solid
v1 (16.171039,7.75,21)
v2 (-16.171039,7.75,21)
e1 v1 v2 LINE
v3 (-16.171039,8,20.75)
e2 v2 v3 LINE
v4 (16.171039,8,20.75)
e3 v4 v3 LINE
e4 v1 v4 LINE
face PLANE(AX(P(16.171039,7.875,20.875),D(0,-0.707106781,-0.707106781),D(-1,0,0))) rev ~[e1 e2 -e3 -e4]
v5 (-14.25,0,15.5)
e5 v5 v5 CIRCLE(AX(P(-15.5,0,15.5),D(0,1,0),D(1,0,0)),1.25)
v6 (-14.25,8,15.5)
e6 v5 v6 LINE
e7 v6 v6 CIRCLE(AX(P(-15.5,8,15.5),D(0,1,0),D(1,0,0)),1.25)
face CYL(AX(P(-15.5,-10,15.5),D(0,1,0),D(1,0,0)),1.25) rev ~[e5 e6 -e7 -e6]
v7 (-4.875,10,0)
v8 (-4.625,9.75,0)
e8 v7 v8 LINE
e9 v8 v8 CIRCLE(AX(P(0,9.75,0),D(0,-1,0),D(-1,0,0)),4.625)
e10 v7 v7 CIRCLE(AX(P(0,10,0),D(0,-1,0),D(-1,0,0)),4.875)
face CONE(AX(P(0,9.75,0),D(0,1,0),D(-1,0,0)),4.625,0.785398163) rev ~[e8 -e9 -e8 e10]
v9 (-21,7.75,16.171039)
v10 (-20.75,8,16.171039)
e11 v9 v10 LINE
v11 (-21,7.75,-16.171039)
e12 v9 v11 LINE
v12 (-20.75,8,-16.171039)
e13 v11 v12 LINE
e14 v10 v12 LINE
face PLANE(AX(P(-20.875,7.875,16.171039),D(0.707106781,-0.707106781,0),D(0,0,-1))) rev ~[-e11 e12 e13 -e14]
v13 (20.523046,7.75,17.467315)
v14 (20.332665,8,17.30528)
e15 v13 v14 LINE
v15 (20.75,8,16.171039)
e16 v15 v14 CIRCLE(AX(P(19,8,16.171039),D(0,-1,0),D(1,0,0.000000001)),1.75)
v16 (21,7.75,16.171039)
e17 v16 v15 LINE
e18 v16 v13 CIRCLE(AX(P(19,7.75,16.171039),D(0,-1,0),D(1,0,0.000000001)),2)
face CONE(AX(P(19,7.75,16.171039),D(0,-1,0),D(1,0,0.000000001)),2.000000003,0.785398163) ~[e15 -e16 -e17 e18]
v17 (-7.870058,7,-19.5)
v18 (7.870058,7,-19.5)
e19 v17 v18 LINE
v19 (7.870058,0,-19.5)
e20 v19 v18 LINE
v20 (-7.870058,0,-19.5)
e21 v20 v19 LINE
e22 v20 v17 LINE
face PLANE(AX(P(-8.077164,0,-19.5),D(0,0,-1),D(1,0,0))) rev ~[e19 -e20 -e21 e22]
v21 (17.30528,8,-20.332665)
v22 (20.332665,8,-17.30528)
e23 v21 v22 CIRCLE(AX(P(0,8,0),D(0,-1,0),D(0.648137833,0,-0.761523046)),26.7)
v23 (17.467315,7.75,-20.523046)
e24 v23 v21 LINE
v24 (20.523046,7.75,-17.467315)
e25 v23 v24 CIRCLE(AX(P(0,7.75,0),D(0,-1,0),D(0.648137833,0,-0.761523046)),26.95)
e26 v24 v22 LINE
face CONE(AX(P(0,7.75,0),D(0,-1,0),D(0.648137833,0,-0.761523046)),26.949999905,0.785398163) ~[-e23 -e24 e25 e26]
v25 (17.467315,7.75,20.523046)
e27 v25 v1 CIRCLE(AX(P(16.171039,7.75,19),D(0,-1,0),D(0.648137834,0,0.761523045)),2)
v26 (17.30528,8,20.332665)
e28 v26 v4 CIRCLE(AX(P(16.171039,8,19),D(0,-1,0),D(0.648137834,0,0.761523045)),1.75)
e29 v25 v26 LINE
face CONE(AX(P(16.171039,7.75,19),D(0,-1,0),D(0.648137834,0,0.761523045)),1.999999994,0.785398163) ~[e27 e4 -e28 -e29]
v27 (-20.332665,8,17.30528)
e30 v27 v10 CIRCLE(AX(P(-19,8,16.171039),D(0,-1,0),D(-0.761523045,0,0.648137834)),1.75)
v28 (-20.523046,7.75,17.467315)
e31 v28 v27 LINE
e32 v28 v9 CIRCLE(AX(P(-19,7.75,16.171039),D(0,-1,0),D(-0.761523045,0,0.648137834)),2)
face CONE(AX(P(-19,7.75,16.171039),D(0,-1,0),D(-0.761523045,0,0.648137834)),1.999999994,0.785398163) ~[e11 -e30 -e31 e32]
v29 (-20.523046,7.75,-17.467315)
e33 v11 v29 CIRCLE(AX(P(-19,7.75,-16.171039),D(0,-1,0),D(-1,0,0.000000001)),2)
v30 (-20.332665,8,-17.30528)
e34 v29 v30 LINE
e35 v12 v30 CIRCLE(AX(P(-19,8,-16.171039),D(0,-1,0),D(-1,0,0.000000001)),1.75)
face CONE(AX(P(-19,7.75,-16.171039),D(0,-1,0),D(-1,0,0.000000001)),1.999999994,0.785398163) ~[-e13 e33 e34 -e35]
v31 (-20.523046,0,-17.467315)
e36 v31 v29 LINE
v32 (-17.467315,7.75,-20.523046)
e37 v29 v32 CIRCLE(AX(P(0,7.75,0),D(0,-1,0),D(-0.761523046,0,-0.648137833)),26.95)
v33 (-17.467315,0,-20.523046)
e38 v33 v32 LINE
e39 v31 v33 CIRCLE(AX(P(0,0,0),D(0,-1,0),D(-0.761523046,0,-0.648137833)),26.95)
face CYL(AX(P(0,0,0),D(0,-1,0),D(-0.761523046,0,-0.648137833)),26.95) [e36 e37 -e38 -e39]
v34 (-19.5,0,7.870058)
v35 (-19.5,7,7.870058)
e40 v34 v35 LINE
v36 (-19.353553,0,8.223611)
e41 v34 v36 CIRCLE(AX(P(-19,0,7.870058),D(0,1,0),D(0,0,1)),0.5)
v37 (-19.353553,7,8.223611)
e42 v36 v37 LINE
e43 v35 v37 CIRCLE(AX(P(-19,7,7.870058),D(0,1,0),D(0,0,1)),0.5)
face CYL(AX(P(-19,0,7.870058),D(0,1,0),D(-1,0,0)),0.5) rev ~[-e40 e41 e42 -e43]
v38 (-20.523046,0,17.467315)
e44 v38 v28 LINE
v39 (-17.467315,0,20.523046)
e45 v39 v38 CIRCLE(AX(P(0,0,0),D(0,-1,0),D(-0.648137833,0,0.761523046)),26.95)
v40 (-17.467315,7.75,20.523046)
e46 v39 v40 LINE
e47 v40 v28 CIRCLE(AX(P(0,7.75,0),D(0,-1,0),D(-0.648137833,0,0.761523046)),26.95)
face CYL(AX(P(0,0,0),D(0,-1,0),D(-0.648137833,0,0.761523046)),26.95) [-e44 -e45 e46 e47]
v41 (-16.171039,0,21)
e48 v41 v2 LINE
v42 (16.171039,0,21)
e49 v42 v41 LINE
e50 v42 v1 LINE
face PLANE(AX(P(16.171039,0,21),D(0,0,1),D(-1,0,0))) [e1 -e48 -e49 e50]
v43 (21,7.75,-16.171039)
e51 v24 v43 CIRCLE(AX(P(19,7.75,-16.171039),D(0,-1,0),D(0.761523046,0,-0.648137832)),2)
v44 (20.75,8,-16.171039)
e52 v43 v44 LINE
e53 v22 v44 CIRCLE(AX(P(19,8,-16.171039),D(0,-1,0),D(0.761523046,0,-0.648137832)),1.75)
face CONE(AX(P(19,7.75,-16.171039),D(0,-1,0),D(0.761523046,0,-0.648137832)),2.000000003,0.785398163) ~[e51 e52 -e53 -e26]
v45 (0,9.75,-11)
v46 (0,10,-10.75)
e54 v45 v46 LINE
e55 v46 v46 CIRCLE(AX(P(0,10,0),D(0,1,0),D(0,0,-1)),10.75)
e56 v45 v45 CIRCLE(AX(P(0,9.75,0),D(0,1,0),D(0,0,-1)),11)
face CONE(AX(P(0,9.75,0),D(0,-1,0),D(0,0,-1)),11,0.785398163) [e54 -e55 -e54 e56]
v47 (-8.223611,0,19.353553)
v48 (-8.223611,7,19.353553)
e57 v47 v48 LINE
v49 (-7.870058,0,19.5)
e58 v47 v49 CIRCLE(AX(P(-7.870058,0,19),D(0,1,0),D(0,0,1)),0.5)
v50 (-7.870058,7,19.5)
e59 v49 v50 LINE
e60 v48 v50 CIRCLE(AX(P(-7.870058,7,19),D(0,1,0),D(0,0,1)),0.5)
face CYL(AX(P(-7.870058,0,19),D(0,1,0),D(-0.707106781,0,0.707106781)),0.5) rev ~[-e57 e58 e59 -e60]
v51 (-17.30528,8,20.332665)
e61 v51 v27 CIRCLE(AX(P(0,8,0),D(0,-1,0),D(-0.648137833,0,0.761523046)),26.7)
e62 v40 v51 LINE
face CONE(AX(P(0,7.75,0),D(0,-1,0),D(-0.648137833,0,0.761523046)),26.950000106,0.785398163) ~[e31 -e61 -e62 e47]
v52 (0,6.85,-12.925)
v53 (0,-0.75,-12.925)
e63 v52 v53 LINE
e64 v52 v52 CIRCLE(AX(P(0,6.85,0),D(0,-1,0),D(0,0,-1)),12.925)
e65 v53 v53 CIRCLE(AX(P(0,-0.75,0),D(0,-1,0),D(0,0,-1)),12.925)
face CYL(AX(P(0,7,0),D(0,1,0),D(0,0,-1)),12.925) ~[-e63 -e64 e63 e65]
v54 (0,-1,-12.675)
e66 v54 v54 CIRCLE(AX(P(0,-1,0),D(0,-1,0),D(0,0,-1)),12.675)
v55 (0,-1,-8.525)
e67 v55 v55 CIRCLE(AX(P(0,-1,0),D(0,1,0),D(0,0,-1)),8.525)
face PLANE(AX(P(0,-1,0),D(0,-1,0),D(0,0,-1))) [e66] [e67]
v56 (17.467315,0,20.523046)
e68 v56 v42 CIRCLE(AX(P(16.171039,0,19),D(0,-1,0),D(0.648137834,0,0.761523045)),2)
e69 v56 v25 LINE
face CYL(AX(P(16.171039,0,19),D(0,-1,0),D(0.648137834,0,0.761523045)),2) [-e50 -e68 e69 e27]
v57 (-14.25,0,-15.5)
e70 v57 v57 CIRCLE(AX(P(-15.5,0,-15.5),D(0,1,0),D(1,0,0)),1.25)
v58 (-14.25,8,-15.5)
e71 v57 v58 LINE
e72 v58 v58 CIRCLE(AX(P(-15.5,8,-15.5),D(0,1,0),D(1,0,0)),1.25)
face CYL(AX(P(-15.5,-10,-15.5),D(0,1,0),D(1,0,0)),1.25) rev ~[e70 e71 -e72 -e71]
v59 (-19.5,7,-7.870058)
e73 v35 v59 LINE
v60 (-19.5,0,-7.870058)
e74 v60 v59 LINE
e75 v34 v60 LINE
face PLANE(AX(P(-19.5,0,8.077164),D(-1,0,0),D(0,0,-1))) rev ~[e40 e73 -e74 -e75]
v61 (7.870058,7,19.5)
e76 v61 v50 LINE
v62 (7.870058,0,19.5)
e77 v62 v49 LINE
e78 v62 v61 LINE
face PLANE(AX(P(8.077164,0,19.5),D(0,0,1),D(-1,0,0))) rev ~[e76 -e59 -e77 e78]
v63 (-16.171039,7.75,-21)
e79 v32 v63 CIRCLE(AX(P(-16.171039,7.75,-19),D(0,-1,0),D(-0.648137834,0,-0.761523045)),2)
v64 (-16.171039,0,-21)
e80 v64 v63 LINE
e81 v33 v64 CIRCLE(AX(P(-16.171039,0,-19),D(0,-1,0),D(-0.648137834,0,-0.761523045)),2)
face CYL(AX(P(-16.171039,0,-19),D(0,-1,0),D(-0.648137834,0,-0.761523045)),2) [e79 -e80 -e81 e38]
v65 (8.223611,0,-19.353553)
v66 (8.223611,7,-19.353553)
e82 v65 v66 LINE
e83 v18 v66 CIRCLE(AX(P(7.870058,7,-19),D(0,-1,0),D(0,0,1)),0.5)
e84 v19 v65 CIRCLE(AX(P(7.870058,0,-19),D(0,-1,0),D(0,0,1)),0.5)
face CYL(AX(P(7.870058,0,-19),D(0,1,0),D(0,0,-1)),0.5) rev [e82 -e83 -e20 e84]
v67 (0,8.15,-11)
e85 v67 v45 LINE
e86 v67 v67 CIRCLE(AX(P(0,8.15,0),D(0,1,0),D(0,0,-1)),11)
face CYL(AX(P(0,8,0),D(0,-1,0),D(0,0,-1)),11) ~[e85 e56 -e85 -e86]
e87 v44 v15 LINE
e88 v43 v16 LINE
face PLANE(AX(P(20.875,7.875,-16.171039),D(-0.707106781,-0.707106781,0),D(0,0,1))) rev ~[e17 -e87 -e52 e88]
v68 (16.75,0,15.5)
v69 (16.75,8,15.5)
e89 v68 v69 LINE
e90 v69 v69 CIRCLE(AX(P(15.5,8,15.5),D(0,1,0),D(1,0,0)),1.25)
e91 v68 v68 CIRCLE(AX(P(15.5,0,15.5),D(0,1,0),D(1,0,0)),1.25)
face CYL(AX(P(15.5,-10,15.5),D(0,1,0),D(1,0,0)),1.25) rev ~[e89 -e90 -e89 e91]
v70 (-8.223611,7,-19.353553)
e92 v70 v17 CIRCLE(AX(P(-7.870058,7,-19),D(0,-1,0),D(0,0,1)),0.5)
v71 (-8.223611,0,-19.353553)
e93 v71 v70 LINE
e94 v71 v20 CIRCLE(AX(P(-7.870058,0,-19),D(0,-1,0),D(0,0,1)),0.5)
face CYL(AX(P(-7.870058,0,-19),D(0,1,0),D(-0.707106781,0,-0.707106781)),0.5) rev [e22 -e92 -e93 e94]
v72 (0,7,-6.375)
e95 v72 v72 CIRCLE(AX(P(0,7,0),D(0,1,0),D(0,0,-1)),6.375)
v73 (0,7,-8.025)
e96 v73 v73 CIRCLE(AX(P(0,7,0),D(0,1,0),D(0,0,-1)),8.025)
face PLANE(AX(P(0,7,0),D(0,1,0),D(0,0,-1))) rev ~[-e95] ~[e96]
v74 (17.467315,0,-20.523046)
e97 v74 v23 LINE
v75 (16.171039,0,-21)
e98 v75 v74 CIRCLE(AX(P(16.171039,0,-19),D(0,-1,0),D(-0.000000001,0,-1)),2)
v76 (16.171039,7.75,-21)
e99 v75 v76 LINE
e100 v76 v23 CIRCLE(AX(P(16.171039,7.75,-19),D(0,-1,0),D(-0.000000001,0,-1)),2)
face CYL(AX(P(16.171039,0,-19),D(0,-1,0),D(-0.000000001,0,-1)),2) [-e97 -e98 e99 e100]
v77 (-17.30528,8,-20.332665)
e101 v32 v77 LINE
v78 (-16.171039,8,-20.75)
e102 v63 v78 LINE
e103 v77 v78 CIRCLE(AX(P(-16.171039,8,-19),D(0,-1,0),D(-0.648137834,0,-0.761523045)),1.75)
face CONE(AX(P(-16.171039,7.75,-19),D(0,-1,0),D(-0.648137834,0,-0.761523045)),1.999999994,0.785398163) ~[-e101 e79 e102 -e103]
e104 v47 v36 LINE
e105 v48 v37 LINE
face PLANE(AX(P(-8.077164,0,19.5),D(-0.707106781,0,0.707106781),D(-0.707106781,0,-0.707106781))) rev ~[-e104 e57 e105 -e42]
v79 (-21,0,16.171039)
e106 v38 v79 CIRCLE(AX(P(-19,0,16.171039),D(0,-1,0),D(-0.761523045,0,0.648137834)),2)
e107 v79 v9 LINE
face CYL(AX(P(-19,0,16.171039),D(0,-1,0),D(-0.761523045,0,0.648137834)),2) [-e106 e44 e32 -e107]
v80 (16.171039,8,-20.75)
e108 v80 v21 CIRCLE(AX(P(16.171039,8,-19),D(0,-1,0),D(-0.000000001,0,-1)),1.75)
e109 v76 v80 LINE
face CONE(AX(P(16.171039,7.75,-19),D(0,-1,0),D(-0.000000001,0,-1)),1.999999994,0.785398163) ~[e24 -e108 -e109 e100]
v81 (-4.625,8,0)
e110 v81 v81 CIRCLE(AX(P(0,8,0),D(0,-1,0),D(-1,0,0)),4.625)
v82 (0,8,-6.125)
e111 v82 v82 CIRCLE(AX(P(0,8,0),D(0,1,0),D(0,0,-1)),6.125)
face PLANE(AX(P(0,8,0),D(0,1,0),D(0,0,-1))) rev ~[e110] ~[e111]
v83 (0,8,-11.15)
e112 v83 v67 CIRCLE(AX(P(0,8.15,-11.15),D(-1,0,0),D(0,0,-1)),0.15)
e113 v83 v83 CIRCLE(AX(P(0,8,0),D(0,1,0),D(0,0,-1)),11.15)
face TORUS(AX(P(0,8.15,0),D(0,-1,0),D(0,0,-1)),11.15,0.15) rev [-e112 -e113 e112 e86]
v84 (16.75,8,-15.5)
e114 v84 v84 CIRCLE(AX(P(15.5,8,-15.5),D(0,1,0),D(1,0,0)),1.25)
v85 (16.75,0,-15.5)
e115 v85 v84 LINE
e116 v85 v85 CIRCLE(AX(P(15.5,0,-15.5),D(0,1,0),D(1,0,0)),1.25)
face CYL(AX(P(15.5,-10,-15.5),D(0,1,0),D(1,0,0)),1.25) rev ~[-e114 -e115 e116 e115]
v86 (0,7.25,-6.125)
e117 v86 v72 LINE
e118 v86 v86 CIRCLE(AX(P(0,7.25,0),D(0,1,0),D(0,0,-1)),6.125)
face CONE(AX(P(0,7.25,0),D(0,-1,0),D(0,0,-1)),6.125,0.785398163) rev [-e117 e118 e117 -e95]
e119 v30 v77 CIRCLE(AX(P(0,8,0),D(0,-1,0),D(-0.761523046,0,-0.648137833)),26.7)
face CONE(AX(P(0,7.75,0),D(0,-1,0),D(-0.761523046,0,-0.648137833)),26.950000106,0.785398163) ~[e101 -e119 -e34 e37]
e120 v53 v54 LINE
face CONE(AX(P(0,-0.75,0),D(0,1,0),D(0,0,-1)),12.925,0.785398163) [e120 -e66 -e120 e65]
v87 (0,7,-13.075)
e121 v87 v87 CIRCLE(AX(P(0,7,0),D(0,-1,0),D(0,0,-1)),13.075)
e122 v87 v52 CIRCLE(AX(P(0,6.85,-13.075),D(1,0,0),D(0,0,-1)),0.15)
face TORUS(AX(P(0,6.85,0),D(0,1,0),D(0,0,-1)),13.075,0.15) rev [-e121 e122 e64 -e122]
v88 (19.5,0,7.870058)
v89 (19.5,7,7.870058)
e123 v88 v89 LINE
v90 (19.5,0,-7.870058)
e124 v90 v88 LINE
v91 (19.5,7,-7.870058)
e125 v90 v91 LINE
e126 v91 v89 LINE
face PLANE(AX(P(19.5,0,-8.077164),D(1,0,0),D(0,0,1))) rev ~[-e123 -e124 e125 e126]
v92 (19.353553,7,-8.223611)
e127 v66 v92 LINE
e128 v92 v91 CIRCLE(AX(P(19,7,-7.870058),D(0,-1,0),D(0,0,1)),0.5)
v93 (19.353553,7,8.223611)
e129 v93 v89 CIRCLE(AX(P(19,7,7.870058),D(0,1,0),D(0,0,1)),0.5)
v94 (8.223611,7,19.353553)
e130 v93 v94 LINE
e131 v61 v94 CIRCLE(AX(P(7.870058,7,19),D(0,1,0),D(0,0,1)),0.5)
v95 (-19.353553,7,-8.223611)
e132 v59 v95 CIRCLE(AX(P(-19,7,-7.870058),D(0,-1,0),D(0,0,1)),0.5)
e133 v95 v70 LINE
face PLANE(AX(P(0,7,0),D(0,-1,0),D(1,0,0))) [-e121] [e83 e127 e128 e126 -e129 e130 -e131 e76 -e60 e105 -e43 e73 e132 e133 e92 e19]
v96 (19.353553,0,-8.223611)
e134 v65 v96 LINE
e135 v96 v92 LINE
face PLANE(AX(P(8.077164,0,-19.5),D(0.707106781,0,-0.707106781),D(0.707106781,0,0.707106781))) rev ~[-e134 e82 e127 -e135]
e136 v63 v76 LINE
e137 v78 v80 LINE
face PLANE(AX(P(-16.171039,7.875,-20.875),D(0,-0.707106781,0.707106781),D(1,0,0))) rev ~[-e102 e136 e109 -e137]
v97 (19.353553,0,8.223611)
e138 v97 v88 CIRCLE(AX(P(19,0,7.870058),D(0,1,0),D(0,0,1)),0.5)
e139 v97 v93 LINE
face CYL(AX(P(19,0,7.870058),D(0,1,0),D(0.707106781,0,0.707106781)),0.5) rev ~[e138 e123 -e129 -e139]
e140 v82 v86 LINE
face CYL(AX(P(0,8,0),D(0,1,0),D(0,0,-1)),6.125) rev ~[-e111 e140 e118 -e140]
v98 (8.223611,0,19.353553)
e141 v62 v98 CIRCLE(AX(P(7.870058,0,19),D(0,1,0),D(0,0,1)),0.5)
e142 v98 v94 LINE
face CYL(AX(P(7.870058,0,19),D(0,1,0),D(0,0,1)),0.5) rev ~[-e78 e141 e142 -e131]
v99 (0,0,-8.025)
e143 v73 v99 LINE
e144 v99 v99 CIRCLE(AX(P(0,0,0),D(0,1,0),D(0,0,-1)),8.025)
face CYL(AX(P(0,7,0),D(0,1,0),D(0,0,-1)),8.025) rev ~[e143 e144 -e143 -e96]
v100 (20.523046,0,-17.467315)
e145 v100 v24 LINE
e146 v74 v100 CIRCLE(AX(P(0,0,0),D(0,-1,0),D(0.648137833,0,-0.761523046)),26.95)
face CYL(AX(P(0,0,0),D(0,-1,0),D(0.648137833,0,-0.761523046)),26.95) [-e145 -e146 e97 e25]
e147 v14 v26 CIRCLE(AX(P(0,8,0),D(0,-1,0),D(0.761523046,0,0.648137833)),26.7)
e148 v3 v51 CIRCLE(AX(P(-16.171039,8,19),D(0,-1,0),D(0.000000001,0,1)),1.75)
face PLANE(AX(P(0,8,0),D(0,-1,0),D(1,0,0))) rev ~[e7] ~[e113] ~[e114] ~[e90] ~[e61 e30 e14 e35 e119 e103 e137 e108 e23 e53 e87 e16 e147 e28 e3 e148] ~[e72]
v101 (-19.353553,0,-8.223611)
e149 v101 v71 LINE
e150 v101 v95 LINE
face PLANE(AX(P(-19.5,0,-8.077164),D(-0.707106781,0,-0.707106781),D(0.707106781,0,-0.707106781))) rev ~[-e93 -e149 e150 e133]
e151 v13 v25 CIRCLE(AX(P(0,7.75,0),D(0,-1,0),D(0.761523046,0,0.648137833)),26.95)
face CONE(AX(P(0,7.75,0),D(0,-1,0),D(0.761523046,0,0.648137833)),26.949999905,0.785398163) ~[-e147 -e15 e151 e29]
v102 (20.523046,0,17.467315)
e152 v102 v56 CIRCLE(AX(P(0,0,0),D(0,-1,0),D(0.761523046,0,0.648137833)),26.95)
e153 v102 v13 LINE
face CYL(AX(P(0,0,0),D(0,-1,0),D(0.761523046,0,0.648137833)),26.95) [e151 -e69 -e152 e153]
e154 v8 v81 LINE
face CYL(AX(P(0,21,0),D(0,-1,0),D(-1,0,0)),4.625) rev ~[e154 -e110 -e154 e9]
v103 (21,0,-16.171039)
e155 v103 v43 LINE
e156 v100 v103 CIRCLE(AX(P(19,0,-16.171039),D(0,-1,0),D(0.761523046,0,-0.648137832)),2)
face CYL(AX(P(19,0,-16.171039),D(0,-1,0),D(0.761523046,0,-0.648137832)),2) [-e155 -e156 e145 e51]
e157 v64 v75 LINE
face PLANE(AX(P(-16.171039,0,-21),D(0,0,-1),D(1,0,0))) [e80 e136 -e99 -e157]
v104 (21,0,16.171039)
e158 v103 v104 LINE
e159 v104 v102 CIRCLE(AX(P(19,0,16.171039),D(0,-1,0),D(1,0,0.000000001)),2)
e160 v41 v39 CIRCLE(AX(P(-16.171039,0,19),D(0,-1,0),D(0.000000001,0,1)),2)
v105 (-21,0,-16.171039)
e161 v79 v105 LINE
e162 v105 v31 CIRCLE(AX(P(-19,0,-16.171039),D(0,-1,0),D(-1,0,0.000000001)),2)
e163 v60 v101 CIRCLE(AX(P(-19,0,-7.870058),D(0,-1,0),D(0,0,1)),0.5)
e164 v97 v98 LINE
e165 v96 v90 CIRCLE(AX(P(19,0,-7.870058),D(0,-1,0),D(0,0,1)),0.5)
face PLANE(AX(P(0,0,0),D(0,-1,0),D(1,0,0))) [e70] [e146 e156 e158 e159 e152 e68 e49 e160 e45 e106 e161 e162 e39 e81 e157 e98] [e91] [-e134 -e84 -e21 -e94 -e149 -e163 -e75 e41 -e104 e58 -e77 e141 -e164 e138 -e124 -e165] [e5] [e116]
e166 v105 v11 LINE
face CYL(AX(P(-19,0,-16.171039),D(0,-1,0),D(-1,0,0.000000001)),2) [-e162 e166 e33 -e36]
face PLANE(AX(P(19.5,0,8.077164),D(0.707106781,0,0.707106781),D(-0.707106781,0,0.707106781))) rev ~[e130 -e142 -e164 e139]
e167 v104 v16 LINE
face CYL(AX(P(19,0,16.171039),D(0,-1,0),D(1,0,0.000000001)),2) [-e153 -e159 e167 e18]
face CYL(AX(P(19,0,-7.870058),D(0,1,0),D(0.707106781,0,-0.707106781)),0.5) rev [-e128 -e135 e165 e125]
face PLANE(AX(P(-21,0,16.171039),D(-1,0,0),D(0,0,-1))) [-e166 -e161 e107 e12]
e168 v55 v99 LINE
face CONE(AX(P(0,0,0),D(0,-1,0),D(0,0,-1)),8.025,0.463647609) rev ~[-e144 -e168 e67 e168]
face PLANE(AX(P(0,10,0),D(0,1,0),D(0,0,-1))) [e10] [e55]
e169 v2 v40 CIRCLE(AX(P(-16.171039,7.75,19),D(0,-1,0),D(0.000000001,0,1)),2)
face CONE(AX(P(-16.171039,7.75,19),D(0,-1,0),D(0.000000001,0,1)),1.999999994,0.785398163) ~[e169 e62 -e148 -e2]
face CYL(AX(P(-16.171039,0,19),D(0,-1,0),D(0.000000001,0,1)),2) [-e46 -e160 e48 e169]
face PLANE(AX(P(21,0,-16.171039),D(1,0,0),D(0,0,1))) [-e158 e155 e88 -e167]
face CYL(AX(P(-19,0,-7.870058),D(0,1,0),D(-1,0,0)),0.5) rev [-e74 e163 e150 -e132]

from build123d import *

# Parameters (mm, degrees)
BOSS_EXTRUDE1_DEPTH            = 8
CUT_EXTRUDE1_DEPTH             = 7
SKETCH3_R                      = 11
BOSS_EXTRUDE2_DEPTH            = 2
SKETCH4_R                      = 12.925
BOSS_EXTRUDE3_DEPTH            = 8
SKETCH5_R                      = 8.025
CUT_EXTRUDE2_DEPTH             = 31.757112998
SKETCH6_R                      = 6.125
CUT_EXTRUDE3_DEPTH             = 32.032241298
M8_CLEARANCE_HOLE1_D           = 9.25
M8_CLEARANCE_HOLE1_DEPTH       = 11
F_2_5_2_5_DIAMETER_HOLE1_D     = 2.5
F_2_5_2_5_DIAMETER_HOLE1_DEPTH = 10
FILLET1_R                      = 0.150000001
FILLET2_R                      = 0.5
CHAMFER1_SIZE                  = 0.5
CHAMFER1_SIZE2                 = 1
CHAMFER2_SIZE                  = 0.25
CHAMFER3_SIZE                  = 0.25


with BuildPart() as part:
    # Sketch1 → Boss-Extrude1 (new body)
    with BuildSketch(Plane.XZ):
        with BuildLine():
            Line((16.171038928, 21), (-16.171038928, 21))
            ThreePointArc((-16.171038928, 21), (-16.861657425, 20.876977915), (-17.467314594, 20.523046092))
            ThreePointArc((-17.467314594, 20.523046092), (-19.056527753, 19.056527753), (-20.523046092, 17.467314594))
            ThreePointArc((-20.523046092, 17.467314594), (-20.876977915, 16.861657425), (-21, 16.171038928))
            Line((-21, 16.171038928), (-21, -16.171038928))
            ThreePointArc((-21, -16.171038928), (-20.876977915, -16.861657425), (-20.523046092, -17.467314594))
            ThreePointArc((-20.523046092, -17.467314594), (-19.056527753, -19.056527753), (-17.467314594, -20.523046092))
            ThreePointArc((-17.467314594, -20.523046092), (-16.861657425, -20.876977915), (-16.171038928, -21))
            Line((-16.171038928, -21), (16.171038928, -21))
            ThreePointArc((16.171038928, -21), (16.861657424, -20.876977915), (17.467314593, -20.523046092))
            ThreePointArc((17.467314593, -20.523046092), (19.056527753, -19.056527753), (20.523046092, -17.467314593))
            ThreePointArc((20.523046092, -17.467314593), (20.876977914, -16.861657425), (21, -16.171038928))
            Line((21, -16.171038928), (21, 16.171038928))
            ThreePointArc((21, 16.171038928), (20.876977914, 16.861657425), (20.523046092, 17.467314593))
            ThreePointArc((20.523046092, 17.467314593), (19.056527753, 19.056527753), (17.467314593, 20.523046092))
            ThreePointArc((17.467314593, 20.523046092), (16.861657424, 20.876977915), (16.171038928, 21))
        make_face()
    extrude(amount=-BOSS_EXTRUDE1_DEPTH)

    # Sketch2 → Cut-Extrude1 (cut)
    with BuildSketch(Plane.XZ):
        Polygon((-19.5, 8.077164467), (-19.5, -8.077164467), (-8.077164467, -19.5), (8.077164467, -19.5), (19.5, -8.077164467), (19.5, 8.077164467), (8.077164467, 19.5), (-8.077164467, 19.5), align=None)
    extrude(amount=-CUT_EXTRUDE1_DEPTH, mode=Mode.SUBTRACT)

    # Sketch3 → Boss-Extrude2 (add)
    with BuildSketch(Plane(origin=(0, 8, 0), x_dir=(-1, 0, 0), z_dir=(0, 1, 0))):
        with Locations(Location((0, 0, 0), (0, 0, 270))):
            Circle(SKETCH3_R)
    extrude(amount=BOSS_EXTRUDE2_DEPTH)

    # Sketch4 → Boss-Extrude3 (add)
    with BuildSketch(Plane.XZ.offset(-7)):
        with Locations(Location((0, 0, 0), (0, 0, 270))):
            Circle(SKETCH4_R)
    extrude(amount=BOSS_EXTRUDE3_DEPTH)

    # Sketch5 → Cut-Extrude2 (cut, through all)
    with BuildSketch(Plane(origin=(0, 7, 0), x_dir=(1, 0, 0), z_dir=(0, 1, 0))):
        with Locations(Location((0, 0, 0), (0, 0, 90))):
            Circle(SKETCH5_R)
    extrude(amount=-CUT_EXTRUDE2_DEPTH, mode=Mode.SUBTRACT)

    # Sketch6 → Cut-Extrude3 (cut, through all)
    with BuildSketch(Plane(origin=(0, 8, 0), x_dir=(1, 0, 0), z_dir=(0, 1, 0))):
        with Locations(Location((0, 0, 0), (0, 0, 90))):
            Circle(SKETCH6_R)
    extrude(amount=-CUT_EXTRUDE3_DEPTH, mode=Mode.SUBTRACT)

    # M8 Clearance Hole1
    with Locations(Plane(origin=(0, 10, 0), x_dir=(1, 0, 0), z_dir=(0, 1, 0))):
        with Locations((0, 0)):
            Hole(M8_CLEARANCE_HOLE1_D / 2, depth=M8_CLEARANCE_HOLE1_DEPTH)

    # Ø2.5 (2.5) Diameter Hole1
    with Locations(Plane(origin=(0, 0, 0), x_dir=(-1, 0, 0), z_dir=(0, -1, 0))):
        with Locations((15.5, 15.5), (-15.5, -15.5), (-15.5, 15.5), (15.5, -15.5)):
            Hole(F_2_5_2_5_DIAMETER_HOLE1_D / 2, depth=F_2_5_2_5_DIAMETER_HOLE1_DEPTH)

    # Fillet1
    fillet1_edges = [part.edges().sort_by_distance(p)[0] for p in [
        (0, 8, 11),
        (0, 7, 12.925),
    ]]
    fillet(fillet1_edges, radius=FILLET1_R)

    # Fillet2
    fillet2_edges = [part.edges().sort_by_distance(p)[0] for p in [
        (-19.5, 3.5, 8.077164467),
        (-8.077164467, 3.5, 19.5),
        (8.077164467, 3.5, 19.5),
        (19.5, 3.5, 8.077164467),
        (19.5, 3.5, -8.077164467),
        (8.077164467, 3.5, -19.5),
        (-8.077164467, 3.5, -19.5),
        (-19.5, 3.5, -8.077164467),
    ]]
    fillet(fillet2_edges, radius=FILLET2_R)

    # Chamfer1
    chamfer1_edges = [part.edges().sort_by_distance(p)[0] for p in [
        (0, -1, 8.025),
    ]]
    chamfer1_side = [part.faces().sort_by_distance(p)[0] for p in [
        (0, -1, 12.559425794),
    ]]
    chamfer(chamfer1_edges, length=CHAMFER1_SIZE, length2=CHAMFER1_SIZE2, reference=chamfer1_side[0])

    # Chamfer2
    chamfer2_edges = [part.edges().sort_by_distance(p)[0] for p in [
        (16.861657424, 8, 20.876977915),
        (0, 8, 21),
        (-16.861657425, 8, 20.876977915),
        (-19.056527753, 8, 19.056527753),
        (-20.876977915, 8, 16.861657425),
        (-21, 8, 0),
        (-20.876977915, 8, -16.861657425),
        (-19.056527753, 8, -19.056527753),
        (-16.861657425, 8, -20.876977915),
        (0, 8, -21),
        (20.876977914, 8, 16.861657425),
        (16.861657424, 8, -20.876977915),
        (19.056527753, 8, -19.056527753),
        (20.876977914, 8, -16.861657425),
        (21, 8, 0),
        (19.056527753, 8, 19.056527753),
    ]]
    chamfer(chamfer2_edges, length=CHAMFER2_SIZE)

    # Chamfer3
    chamfer3_edges = [part.edges().sort_by_distance(p)[0] for p in [
        (0, 10, 11),
        (0, -1, 12.925),
        (0, 7, 6.125),
        (4.625, 10, 0),
    ]]
    chamfer(chamfer3_edges, length=CHAMFER3_SIZE)


solid = part.part
